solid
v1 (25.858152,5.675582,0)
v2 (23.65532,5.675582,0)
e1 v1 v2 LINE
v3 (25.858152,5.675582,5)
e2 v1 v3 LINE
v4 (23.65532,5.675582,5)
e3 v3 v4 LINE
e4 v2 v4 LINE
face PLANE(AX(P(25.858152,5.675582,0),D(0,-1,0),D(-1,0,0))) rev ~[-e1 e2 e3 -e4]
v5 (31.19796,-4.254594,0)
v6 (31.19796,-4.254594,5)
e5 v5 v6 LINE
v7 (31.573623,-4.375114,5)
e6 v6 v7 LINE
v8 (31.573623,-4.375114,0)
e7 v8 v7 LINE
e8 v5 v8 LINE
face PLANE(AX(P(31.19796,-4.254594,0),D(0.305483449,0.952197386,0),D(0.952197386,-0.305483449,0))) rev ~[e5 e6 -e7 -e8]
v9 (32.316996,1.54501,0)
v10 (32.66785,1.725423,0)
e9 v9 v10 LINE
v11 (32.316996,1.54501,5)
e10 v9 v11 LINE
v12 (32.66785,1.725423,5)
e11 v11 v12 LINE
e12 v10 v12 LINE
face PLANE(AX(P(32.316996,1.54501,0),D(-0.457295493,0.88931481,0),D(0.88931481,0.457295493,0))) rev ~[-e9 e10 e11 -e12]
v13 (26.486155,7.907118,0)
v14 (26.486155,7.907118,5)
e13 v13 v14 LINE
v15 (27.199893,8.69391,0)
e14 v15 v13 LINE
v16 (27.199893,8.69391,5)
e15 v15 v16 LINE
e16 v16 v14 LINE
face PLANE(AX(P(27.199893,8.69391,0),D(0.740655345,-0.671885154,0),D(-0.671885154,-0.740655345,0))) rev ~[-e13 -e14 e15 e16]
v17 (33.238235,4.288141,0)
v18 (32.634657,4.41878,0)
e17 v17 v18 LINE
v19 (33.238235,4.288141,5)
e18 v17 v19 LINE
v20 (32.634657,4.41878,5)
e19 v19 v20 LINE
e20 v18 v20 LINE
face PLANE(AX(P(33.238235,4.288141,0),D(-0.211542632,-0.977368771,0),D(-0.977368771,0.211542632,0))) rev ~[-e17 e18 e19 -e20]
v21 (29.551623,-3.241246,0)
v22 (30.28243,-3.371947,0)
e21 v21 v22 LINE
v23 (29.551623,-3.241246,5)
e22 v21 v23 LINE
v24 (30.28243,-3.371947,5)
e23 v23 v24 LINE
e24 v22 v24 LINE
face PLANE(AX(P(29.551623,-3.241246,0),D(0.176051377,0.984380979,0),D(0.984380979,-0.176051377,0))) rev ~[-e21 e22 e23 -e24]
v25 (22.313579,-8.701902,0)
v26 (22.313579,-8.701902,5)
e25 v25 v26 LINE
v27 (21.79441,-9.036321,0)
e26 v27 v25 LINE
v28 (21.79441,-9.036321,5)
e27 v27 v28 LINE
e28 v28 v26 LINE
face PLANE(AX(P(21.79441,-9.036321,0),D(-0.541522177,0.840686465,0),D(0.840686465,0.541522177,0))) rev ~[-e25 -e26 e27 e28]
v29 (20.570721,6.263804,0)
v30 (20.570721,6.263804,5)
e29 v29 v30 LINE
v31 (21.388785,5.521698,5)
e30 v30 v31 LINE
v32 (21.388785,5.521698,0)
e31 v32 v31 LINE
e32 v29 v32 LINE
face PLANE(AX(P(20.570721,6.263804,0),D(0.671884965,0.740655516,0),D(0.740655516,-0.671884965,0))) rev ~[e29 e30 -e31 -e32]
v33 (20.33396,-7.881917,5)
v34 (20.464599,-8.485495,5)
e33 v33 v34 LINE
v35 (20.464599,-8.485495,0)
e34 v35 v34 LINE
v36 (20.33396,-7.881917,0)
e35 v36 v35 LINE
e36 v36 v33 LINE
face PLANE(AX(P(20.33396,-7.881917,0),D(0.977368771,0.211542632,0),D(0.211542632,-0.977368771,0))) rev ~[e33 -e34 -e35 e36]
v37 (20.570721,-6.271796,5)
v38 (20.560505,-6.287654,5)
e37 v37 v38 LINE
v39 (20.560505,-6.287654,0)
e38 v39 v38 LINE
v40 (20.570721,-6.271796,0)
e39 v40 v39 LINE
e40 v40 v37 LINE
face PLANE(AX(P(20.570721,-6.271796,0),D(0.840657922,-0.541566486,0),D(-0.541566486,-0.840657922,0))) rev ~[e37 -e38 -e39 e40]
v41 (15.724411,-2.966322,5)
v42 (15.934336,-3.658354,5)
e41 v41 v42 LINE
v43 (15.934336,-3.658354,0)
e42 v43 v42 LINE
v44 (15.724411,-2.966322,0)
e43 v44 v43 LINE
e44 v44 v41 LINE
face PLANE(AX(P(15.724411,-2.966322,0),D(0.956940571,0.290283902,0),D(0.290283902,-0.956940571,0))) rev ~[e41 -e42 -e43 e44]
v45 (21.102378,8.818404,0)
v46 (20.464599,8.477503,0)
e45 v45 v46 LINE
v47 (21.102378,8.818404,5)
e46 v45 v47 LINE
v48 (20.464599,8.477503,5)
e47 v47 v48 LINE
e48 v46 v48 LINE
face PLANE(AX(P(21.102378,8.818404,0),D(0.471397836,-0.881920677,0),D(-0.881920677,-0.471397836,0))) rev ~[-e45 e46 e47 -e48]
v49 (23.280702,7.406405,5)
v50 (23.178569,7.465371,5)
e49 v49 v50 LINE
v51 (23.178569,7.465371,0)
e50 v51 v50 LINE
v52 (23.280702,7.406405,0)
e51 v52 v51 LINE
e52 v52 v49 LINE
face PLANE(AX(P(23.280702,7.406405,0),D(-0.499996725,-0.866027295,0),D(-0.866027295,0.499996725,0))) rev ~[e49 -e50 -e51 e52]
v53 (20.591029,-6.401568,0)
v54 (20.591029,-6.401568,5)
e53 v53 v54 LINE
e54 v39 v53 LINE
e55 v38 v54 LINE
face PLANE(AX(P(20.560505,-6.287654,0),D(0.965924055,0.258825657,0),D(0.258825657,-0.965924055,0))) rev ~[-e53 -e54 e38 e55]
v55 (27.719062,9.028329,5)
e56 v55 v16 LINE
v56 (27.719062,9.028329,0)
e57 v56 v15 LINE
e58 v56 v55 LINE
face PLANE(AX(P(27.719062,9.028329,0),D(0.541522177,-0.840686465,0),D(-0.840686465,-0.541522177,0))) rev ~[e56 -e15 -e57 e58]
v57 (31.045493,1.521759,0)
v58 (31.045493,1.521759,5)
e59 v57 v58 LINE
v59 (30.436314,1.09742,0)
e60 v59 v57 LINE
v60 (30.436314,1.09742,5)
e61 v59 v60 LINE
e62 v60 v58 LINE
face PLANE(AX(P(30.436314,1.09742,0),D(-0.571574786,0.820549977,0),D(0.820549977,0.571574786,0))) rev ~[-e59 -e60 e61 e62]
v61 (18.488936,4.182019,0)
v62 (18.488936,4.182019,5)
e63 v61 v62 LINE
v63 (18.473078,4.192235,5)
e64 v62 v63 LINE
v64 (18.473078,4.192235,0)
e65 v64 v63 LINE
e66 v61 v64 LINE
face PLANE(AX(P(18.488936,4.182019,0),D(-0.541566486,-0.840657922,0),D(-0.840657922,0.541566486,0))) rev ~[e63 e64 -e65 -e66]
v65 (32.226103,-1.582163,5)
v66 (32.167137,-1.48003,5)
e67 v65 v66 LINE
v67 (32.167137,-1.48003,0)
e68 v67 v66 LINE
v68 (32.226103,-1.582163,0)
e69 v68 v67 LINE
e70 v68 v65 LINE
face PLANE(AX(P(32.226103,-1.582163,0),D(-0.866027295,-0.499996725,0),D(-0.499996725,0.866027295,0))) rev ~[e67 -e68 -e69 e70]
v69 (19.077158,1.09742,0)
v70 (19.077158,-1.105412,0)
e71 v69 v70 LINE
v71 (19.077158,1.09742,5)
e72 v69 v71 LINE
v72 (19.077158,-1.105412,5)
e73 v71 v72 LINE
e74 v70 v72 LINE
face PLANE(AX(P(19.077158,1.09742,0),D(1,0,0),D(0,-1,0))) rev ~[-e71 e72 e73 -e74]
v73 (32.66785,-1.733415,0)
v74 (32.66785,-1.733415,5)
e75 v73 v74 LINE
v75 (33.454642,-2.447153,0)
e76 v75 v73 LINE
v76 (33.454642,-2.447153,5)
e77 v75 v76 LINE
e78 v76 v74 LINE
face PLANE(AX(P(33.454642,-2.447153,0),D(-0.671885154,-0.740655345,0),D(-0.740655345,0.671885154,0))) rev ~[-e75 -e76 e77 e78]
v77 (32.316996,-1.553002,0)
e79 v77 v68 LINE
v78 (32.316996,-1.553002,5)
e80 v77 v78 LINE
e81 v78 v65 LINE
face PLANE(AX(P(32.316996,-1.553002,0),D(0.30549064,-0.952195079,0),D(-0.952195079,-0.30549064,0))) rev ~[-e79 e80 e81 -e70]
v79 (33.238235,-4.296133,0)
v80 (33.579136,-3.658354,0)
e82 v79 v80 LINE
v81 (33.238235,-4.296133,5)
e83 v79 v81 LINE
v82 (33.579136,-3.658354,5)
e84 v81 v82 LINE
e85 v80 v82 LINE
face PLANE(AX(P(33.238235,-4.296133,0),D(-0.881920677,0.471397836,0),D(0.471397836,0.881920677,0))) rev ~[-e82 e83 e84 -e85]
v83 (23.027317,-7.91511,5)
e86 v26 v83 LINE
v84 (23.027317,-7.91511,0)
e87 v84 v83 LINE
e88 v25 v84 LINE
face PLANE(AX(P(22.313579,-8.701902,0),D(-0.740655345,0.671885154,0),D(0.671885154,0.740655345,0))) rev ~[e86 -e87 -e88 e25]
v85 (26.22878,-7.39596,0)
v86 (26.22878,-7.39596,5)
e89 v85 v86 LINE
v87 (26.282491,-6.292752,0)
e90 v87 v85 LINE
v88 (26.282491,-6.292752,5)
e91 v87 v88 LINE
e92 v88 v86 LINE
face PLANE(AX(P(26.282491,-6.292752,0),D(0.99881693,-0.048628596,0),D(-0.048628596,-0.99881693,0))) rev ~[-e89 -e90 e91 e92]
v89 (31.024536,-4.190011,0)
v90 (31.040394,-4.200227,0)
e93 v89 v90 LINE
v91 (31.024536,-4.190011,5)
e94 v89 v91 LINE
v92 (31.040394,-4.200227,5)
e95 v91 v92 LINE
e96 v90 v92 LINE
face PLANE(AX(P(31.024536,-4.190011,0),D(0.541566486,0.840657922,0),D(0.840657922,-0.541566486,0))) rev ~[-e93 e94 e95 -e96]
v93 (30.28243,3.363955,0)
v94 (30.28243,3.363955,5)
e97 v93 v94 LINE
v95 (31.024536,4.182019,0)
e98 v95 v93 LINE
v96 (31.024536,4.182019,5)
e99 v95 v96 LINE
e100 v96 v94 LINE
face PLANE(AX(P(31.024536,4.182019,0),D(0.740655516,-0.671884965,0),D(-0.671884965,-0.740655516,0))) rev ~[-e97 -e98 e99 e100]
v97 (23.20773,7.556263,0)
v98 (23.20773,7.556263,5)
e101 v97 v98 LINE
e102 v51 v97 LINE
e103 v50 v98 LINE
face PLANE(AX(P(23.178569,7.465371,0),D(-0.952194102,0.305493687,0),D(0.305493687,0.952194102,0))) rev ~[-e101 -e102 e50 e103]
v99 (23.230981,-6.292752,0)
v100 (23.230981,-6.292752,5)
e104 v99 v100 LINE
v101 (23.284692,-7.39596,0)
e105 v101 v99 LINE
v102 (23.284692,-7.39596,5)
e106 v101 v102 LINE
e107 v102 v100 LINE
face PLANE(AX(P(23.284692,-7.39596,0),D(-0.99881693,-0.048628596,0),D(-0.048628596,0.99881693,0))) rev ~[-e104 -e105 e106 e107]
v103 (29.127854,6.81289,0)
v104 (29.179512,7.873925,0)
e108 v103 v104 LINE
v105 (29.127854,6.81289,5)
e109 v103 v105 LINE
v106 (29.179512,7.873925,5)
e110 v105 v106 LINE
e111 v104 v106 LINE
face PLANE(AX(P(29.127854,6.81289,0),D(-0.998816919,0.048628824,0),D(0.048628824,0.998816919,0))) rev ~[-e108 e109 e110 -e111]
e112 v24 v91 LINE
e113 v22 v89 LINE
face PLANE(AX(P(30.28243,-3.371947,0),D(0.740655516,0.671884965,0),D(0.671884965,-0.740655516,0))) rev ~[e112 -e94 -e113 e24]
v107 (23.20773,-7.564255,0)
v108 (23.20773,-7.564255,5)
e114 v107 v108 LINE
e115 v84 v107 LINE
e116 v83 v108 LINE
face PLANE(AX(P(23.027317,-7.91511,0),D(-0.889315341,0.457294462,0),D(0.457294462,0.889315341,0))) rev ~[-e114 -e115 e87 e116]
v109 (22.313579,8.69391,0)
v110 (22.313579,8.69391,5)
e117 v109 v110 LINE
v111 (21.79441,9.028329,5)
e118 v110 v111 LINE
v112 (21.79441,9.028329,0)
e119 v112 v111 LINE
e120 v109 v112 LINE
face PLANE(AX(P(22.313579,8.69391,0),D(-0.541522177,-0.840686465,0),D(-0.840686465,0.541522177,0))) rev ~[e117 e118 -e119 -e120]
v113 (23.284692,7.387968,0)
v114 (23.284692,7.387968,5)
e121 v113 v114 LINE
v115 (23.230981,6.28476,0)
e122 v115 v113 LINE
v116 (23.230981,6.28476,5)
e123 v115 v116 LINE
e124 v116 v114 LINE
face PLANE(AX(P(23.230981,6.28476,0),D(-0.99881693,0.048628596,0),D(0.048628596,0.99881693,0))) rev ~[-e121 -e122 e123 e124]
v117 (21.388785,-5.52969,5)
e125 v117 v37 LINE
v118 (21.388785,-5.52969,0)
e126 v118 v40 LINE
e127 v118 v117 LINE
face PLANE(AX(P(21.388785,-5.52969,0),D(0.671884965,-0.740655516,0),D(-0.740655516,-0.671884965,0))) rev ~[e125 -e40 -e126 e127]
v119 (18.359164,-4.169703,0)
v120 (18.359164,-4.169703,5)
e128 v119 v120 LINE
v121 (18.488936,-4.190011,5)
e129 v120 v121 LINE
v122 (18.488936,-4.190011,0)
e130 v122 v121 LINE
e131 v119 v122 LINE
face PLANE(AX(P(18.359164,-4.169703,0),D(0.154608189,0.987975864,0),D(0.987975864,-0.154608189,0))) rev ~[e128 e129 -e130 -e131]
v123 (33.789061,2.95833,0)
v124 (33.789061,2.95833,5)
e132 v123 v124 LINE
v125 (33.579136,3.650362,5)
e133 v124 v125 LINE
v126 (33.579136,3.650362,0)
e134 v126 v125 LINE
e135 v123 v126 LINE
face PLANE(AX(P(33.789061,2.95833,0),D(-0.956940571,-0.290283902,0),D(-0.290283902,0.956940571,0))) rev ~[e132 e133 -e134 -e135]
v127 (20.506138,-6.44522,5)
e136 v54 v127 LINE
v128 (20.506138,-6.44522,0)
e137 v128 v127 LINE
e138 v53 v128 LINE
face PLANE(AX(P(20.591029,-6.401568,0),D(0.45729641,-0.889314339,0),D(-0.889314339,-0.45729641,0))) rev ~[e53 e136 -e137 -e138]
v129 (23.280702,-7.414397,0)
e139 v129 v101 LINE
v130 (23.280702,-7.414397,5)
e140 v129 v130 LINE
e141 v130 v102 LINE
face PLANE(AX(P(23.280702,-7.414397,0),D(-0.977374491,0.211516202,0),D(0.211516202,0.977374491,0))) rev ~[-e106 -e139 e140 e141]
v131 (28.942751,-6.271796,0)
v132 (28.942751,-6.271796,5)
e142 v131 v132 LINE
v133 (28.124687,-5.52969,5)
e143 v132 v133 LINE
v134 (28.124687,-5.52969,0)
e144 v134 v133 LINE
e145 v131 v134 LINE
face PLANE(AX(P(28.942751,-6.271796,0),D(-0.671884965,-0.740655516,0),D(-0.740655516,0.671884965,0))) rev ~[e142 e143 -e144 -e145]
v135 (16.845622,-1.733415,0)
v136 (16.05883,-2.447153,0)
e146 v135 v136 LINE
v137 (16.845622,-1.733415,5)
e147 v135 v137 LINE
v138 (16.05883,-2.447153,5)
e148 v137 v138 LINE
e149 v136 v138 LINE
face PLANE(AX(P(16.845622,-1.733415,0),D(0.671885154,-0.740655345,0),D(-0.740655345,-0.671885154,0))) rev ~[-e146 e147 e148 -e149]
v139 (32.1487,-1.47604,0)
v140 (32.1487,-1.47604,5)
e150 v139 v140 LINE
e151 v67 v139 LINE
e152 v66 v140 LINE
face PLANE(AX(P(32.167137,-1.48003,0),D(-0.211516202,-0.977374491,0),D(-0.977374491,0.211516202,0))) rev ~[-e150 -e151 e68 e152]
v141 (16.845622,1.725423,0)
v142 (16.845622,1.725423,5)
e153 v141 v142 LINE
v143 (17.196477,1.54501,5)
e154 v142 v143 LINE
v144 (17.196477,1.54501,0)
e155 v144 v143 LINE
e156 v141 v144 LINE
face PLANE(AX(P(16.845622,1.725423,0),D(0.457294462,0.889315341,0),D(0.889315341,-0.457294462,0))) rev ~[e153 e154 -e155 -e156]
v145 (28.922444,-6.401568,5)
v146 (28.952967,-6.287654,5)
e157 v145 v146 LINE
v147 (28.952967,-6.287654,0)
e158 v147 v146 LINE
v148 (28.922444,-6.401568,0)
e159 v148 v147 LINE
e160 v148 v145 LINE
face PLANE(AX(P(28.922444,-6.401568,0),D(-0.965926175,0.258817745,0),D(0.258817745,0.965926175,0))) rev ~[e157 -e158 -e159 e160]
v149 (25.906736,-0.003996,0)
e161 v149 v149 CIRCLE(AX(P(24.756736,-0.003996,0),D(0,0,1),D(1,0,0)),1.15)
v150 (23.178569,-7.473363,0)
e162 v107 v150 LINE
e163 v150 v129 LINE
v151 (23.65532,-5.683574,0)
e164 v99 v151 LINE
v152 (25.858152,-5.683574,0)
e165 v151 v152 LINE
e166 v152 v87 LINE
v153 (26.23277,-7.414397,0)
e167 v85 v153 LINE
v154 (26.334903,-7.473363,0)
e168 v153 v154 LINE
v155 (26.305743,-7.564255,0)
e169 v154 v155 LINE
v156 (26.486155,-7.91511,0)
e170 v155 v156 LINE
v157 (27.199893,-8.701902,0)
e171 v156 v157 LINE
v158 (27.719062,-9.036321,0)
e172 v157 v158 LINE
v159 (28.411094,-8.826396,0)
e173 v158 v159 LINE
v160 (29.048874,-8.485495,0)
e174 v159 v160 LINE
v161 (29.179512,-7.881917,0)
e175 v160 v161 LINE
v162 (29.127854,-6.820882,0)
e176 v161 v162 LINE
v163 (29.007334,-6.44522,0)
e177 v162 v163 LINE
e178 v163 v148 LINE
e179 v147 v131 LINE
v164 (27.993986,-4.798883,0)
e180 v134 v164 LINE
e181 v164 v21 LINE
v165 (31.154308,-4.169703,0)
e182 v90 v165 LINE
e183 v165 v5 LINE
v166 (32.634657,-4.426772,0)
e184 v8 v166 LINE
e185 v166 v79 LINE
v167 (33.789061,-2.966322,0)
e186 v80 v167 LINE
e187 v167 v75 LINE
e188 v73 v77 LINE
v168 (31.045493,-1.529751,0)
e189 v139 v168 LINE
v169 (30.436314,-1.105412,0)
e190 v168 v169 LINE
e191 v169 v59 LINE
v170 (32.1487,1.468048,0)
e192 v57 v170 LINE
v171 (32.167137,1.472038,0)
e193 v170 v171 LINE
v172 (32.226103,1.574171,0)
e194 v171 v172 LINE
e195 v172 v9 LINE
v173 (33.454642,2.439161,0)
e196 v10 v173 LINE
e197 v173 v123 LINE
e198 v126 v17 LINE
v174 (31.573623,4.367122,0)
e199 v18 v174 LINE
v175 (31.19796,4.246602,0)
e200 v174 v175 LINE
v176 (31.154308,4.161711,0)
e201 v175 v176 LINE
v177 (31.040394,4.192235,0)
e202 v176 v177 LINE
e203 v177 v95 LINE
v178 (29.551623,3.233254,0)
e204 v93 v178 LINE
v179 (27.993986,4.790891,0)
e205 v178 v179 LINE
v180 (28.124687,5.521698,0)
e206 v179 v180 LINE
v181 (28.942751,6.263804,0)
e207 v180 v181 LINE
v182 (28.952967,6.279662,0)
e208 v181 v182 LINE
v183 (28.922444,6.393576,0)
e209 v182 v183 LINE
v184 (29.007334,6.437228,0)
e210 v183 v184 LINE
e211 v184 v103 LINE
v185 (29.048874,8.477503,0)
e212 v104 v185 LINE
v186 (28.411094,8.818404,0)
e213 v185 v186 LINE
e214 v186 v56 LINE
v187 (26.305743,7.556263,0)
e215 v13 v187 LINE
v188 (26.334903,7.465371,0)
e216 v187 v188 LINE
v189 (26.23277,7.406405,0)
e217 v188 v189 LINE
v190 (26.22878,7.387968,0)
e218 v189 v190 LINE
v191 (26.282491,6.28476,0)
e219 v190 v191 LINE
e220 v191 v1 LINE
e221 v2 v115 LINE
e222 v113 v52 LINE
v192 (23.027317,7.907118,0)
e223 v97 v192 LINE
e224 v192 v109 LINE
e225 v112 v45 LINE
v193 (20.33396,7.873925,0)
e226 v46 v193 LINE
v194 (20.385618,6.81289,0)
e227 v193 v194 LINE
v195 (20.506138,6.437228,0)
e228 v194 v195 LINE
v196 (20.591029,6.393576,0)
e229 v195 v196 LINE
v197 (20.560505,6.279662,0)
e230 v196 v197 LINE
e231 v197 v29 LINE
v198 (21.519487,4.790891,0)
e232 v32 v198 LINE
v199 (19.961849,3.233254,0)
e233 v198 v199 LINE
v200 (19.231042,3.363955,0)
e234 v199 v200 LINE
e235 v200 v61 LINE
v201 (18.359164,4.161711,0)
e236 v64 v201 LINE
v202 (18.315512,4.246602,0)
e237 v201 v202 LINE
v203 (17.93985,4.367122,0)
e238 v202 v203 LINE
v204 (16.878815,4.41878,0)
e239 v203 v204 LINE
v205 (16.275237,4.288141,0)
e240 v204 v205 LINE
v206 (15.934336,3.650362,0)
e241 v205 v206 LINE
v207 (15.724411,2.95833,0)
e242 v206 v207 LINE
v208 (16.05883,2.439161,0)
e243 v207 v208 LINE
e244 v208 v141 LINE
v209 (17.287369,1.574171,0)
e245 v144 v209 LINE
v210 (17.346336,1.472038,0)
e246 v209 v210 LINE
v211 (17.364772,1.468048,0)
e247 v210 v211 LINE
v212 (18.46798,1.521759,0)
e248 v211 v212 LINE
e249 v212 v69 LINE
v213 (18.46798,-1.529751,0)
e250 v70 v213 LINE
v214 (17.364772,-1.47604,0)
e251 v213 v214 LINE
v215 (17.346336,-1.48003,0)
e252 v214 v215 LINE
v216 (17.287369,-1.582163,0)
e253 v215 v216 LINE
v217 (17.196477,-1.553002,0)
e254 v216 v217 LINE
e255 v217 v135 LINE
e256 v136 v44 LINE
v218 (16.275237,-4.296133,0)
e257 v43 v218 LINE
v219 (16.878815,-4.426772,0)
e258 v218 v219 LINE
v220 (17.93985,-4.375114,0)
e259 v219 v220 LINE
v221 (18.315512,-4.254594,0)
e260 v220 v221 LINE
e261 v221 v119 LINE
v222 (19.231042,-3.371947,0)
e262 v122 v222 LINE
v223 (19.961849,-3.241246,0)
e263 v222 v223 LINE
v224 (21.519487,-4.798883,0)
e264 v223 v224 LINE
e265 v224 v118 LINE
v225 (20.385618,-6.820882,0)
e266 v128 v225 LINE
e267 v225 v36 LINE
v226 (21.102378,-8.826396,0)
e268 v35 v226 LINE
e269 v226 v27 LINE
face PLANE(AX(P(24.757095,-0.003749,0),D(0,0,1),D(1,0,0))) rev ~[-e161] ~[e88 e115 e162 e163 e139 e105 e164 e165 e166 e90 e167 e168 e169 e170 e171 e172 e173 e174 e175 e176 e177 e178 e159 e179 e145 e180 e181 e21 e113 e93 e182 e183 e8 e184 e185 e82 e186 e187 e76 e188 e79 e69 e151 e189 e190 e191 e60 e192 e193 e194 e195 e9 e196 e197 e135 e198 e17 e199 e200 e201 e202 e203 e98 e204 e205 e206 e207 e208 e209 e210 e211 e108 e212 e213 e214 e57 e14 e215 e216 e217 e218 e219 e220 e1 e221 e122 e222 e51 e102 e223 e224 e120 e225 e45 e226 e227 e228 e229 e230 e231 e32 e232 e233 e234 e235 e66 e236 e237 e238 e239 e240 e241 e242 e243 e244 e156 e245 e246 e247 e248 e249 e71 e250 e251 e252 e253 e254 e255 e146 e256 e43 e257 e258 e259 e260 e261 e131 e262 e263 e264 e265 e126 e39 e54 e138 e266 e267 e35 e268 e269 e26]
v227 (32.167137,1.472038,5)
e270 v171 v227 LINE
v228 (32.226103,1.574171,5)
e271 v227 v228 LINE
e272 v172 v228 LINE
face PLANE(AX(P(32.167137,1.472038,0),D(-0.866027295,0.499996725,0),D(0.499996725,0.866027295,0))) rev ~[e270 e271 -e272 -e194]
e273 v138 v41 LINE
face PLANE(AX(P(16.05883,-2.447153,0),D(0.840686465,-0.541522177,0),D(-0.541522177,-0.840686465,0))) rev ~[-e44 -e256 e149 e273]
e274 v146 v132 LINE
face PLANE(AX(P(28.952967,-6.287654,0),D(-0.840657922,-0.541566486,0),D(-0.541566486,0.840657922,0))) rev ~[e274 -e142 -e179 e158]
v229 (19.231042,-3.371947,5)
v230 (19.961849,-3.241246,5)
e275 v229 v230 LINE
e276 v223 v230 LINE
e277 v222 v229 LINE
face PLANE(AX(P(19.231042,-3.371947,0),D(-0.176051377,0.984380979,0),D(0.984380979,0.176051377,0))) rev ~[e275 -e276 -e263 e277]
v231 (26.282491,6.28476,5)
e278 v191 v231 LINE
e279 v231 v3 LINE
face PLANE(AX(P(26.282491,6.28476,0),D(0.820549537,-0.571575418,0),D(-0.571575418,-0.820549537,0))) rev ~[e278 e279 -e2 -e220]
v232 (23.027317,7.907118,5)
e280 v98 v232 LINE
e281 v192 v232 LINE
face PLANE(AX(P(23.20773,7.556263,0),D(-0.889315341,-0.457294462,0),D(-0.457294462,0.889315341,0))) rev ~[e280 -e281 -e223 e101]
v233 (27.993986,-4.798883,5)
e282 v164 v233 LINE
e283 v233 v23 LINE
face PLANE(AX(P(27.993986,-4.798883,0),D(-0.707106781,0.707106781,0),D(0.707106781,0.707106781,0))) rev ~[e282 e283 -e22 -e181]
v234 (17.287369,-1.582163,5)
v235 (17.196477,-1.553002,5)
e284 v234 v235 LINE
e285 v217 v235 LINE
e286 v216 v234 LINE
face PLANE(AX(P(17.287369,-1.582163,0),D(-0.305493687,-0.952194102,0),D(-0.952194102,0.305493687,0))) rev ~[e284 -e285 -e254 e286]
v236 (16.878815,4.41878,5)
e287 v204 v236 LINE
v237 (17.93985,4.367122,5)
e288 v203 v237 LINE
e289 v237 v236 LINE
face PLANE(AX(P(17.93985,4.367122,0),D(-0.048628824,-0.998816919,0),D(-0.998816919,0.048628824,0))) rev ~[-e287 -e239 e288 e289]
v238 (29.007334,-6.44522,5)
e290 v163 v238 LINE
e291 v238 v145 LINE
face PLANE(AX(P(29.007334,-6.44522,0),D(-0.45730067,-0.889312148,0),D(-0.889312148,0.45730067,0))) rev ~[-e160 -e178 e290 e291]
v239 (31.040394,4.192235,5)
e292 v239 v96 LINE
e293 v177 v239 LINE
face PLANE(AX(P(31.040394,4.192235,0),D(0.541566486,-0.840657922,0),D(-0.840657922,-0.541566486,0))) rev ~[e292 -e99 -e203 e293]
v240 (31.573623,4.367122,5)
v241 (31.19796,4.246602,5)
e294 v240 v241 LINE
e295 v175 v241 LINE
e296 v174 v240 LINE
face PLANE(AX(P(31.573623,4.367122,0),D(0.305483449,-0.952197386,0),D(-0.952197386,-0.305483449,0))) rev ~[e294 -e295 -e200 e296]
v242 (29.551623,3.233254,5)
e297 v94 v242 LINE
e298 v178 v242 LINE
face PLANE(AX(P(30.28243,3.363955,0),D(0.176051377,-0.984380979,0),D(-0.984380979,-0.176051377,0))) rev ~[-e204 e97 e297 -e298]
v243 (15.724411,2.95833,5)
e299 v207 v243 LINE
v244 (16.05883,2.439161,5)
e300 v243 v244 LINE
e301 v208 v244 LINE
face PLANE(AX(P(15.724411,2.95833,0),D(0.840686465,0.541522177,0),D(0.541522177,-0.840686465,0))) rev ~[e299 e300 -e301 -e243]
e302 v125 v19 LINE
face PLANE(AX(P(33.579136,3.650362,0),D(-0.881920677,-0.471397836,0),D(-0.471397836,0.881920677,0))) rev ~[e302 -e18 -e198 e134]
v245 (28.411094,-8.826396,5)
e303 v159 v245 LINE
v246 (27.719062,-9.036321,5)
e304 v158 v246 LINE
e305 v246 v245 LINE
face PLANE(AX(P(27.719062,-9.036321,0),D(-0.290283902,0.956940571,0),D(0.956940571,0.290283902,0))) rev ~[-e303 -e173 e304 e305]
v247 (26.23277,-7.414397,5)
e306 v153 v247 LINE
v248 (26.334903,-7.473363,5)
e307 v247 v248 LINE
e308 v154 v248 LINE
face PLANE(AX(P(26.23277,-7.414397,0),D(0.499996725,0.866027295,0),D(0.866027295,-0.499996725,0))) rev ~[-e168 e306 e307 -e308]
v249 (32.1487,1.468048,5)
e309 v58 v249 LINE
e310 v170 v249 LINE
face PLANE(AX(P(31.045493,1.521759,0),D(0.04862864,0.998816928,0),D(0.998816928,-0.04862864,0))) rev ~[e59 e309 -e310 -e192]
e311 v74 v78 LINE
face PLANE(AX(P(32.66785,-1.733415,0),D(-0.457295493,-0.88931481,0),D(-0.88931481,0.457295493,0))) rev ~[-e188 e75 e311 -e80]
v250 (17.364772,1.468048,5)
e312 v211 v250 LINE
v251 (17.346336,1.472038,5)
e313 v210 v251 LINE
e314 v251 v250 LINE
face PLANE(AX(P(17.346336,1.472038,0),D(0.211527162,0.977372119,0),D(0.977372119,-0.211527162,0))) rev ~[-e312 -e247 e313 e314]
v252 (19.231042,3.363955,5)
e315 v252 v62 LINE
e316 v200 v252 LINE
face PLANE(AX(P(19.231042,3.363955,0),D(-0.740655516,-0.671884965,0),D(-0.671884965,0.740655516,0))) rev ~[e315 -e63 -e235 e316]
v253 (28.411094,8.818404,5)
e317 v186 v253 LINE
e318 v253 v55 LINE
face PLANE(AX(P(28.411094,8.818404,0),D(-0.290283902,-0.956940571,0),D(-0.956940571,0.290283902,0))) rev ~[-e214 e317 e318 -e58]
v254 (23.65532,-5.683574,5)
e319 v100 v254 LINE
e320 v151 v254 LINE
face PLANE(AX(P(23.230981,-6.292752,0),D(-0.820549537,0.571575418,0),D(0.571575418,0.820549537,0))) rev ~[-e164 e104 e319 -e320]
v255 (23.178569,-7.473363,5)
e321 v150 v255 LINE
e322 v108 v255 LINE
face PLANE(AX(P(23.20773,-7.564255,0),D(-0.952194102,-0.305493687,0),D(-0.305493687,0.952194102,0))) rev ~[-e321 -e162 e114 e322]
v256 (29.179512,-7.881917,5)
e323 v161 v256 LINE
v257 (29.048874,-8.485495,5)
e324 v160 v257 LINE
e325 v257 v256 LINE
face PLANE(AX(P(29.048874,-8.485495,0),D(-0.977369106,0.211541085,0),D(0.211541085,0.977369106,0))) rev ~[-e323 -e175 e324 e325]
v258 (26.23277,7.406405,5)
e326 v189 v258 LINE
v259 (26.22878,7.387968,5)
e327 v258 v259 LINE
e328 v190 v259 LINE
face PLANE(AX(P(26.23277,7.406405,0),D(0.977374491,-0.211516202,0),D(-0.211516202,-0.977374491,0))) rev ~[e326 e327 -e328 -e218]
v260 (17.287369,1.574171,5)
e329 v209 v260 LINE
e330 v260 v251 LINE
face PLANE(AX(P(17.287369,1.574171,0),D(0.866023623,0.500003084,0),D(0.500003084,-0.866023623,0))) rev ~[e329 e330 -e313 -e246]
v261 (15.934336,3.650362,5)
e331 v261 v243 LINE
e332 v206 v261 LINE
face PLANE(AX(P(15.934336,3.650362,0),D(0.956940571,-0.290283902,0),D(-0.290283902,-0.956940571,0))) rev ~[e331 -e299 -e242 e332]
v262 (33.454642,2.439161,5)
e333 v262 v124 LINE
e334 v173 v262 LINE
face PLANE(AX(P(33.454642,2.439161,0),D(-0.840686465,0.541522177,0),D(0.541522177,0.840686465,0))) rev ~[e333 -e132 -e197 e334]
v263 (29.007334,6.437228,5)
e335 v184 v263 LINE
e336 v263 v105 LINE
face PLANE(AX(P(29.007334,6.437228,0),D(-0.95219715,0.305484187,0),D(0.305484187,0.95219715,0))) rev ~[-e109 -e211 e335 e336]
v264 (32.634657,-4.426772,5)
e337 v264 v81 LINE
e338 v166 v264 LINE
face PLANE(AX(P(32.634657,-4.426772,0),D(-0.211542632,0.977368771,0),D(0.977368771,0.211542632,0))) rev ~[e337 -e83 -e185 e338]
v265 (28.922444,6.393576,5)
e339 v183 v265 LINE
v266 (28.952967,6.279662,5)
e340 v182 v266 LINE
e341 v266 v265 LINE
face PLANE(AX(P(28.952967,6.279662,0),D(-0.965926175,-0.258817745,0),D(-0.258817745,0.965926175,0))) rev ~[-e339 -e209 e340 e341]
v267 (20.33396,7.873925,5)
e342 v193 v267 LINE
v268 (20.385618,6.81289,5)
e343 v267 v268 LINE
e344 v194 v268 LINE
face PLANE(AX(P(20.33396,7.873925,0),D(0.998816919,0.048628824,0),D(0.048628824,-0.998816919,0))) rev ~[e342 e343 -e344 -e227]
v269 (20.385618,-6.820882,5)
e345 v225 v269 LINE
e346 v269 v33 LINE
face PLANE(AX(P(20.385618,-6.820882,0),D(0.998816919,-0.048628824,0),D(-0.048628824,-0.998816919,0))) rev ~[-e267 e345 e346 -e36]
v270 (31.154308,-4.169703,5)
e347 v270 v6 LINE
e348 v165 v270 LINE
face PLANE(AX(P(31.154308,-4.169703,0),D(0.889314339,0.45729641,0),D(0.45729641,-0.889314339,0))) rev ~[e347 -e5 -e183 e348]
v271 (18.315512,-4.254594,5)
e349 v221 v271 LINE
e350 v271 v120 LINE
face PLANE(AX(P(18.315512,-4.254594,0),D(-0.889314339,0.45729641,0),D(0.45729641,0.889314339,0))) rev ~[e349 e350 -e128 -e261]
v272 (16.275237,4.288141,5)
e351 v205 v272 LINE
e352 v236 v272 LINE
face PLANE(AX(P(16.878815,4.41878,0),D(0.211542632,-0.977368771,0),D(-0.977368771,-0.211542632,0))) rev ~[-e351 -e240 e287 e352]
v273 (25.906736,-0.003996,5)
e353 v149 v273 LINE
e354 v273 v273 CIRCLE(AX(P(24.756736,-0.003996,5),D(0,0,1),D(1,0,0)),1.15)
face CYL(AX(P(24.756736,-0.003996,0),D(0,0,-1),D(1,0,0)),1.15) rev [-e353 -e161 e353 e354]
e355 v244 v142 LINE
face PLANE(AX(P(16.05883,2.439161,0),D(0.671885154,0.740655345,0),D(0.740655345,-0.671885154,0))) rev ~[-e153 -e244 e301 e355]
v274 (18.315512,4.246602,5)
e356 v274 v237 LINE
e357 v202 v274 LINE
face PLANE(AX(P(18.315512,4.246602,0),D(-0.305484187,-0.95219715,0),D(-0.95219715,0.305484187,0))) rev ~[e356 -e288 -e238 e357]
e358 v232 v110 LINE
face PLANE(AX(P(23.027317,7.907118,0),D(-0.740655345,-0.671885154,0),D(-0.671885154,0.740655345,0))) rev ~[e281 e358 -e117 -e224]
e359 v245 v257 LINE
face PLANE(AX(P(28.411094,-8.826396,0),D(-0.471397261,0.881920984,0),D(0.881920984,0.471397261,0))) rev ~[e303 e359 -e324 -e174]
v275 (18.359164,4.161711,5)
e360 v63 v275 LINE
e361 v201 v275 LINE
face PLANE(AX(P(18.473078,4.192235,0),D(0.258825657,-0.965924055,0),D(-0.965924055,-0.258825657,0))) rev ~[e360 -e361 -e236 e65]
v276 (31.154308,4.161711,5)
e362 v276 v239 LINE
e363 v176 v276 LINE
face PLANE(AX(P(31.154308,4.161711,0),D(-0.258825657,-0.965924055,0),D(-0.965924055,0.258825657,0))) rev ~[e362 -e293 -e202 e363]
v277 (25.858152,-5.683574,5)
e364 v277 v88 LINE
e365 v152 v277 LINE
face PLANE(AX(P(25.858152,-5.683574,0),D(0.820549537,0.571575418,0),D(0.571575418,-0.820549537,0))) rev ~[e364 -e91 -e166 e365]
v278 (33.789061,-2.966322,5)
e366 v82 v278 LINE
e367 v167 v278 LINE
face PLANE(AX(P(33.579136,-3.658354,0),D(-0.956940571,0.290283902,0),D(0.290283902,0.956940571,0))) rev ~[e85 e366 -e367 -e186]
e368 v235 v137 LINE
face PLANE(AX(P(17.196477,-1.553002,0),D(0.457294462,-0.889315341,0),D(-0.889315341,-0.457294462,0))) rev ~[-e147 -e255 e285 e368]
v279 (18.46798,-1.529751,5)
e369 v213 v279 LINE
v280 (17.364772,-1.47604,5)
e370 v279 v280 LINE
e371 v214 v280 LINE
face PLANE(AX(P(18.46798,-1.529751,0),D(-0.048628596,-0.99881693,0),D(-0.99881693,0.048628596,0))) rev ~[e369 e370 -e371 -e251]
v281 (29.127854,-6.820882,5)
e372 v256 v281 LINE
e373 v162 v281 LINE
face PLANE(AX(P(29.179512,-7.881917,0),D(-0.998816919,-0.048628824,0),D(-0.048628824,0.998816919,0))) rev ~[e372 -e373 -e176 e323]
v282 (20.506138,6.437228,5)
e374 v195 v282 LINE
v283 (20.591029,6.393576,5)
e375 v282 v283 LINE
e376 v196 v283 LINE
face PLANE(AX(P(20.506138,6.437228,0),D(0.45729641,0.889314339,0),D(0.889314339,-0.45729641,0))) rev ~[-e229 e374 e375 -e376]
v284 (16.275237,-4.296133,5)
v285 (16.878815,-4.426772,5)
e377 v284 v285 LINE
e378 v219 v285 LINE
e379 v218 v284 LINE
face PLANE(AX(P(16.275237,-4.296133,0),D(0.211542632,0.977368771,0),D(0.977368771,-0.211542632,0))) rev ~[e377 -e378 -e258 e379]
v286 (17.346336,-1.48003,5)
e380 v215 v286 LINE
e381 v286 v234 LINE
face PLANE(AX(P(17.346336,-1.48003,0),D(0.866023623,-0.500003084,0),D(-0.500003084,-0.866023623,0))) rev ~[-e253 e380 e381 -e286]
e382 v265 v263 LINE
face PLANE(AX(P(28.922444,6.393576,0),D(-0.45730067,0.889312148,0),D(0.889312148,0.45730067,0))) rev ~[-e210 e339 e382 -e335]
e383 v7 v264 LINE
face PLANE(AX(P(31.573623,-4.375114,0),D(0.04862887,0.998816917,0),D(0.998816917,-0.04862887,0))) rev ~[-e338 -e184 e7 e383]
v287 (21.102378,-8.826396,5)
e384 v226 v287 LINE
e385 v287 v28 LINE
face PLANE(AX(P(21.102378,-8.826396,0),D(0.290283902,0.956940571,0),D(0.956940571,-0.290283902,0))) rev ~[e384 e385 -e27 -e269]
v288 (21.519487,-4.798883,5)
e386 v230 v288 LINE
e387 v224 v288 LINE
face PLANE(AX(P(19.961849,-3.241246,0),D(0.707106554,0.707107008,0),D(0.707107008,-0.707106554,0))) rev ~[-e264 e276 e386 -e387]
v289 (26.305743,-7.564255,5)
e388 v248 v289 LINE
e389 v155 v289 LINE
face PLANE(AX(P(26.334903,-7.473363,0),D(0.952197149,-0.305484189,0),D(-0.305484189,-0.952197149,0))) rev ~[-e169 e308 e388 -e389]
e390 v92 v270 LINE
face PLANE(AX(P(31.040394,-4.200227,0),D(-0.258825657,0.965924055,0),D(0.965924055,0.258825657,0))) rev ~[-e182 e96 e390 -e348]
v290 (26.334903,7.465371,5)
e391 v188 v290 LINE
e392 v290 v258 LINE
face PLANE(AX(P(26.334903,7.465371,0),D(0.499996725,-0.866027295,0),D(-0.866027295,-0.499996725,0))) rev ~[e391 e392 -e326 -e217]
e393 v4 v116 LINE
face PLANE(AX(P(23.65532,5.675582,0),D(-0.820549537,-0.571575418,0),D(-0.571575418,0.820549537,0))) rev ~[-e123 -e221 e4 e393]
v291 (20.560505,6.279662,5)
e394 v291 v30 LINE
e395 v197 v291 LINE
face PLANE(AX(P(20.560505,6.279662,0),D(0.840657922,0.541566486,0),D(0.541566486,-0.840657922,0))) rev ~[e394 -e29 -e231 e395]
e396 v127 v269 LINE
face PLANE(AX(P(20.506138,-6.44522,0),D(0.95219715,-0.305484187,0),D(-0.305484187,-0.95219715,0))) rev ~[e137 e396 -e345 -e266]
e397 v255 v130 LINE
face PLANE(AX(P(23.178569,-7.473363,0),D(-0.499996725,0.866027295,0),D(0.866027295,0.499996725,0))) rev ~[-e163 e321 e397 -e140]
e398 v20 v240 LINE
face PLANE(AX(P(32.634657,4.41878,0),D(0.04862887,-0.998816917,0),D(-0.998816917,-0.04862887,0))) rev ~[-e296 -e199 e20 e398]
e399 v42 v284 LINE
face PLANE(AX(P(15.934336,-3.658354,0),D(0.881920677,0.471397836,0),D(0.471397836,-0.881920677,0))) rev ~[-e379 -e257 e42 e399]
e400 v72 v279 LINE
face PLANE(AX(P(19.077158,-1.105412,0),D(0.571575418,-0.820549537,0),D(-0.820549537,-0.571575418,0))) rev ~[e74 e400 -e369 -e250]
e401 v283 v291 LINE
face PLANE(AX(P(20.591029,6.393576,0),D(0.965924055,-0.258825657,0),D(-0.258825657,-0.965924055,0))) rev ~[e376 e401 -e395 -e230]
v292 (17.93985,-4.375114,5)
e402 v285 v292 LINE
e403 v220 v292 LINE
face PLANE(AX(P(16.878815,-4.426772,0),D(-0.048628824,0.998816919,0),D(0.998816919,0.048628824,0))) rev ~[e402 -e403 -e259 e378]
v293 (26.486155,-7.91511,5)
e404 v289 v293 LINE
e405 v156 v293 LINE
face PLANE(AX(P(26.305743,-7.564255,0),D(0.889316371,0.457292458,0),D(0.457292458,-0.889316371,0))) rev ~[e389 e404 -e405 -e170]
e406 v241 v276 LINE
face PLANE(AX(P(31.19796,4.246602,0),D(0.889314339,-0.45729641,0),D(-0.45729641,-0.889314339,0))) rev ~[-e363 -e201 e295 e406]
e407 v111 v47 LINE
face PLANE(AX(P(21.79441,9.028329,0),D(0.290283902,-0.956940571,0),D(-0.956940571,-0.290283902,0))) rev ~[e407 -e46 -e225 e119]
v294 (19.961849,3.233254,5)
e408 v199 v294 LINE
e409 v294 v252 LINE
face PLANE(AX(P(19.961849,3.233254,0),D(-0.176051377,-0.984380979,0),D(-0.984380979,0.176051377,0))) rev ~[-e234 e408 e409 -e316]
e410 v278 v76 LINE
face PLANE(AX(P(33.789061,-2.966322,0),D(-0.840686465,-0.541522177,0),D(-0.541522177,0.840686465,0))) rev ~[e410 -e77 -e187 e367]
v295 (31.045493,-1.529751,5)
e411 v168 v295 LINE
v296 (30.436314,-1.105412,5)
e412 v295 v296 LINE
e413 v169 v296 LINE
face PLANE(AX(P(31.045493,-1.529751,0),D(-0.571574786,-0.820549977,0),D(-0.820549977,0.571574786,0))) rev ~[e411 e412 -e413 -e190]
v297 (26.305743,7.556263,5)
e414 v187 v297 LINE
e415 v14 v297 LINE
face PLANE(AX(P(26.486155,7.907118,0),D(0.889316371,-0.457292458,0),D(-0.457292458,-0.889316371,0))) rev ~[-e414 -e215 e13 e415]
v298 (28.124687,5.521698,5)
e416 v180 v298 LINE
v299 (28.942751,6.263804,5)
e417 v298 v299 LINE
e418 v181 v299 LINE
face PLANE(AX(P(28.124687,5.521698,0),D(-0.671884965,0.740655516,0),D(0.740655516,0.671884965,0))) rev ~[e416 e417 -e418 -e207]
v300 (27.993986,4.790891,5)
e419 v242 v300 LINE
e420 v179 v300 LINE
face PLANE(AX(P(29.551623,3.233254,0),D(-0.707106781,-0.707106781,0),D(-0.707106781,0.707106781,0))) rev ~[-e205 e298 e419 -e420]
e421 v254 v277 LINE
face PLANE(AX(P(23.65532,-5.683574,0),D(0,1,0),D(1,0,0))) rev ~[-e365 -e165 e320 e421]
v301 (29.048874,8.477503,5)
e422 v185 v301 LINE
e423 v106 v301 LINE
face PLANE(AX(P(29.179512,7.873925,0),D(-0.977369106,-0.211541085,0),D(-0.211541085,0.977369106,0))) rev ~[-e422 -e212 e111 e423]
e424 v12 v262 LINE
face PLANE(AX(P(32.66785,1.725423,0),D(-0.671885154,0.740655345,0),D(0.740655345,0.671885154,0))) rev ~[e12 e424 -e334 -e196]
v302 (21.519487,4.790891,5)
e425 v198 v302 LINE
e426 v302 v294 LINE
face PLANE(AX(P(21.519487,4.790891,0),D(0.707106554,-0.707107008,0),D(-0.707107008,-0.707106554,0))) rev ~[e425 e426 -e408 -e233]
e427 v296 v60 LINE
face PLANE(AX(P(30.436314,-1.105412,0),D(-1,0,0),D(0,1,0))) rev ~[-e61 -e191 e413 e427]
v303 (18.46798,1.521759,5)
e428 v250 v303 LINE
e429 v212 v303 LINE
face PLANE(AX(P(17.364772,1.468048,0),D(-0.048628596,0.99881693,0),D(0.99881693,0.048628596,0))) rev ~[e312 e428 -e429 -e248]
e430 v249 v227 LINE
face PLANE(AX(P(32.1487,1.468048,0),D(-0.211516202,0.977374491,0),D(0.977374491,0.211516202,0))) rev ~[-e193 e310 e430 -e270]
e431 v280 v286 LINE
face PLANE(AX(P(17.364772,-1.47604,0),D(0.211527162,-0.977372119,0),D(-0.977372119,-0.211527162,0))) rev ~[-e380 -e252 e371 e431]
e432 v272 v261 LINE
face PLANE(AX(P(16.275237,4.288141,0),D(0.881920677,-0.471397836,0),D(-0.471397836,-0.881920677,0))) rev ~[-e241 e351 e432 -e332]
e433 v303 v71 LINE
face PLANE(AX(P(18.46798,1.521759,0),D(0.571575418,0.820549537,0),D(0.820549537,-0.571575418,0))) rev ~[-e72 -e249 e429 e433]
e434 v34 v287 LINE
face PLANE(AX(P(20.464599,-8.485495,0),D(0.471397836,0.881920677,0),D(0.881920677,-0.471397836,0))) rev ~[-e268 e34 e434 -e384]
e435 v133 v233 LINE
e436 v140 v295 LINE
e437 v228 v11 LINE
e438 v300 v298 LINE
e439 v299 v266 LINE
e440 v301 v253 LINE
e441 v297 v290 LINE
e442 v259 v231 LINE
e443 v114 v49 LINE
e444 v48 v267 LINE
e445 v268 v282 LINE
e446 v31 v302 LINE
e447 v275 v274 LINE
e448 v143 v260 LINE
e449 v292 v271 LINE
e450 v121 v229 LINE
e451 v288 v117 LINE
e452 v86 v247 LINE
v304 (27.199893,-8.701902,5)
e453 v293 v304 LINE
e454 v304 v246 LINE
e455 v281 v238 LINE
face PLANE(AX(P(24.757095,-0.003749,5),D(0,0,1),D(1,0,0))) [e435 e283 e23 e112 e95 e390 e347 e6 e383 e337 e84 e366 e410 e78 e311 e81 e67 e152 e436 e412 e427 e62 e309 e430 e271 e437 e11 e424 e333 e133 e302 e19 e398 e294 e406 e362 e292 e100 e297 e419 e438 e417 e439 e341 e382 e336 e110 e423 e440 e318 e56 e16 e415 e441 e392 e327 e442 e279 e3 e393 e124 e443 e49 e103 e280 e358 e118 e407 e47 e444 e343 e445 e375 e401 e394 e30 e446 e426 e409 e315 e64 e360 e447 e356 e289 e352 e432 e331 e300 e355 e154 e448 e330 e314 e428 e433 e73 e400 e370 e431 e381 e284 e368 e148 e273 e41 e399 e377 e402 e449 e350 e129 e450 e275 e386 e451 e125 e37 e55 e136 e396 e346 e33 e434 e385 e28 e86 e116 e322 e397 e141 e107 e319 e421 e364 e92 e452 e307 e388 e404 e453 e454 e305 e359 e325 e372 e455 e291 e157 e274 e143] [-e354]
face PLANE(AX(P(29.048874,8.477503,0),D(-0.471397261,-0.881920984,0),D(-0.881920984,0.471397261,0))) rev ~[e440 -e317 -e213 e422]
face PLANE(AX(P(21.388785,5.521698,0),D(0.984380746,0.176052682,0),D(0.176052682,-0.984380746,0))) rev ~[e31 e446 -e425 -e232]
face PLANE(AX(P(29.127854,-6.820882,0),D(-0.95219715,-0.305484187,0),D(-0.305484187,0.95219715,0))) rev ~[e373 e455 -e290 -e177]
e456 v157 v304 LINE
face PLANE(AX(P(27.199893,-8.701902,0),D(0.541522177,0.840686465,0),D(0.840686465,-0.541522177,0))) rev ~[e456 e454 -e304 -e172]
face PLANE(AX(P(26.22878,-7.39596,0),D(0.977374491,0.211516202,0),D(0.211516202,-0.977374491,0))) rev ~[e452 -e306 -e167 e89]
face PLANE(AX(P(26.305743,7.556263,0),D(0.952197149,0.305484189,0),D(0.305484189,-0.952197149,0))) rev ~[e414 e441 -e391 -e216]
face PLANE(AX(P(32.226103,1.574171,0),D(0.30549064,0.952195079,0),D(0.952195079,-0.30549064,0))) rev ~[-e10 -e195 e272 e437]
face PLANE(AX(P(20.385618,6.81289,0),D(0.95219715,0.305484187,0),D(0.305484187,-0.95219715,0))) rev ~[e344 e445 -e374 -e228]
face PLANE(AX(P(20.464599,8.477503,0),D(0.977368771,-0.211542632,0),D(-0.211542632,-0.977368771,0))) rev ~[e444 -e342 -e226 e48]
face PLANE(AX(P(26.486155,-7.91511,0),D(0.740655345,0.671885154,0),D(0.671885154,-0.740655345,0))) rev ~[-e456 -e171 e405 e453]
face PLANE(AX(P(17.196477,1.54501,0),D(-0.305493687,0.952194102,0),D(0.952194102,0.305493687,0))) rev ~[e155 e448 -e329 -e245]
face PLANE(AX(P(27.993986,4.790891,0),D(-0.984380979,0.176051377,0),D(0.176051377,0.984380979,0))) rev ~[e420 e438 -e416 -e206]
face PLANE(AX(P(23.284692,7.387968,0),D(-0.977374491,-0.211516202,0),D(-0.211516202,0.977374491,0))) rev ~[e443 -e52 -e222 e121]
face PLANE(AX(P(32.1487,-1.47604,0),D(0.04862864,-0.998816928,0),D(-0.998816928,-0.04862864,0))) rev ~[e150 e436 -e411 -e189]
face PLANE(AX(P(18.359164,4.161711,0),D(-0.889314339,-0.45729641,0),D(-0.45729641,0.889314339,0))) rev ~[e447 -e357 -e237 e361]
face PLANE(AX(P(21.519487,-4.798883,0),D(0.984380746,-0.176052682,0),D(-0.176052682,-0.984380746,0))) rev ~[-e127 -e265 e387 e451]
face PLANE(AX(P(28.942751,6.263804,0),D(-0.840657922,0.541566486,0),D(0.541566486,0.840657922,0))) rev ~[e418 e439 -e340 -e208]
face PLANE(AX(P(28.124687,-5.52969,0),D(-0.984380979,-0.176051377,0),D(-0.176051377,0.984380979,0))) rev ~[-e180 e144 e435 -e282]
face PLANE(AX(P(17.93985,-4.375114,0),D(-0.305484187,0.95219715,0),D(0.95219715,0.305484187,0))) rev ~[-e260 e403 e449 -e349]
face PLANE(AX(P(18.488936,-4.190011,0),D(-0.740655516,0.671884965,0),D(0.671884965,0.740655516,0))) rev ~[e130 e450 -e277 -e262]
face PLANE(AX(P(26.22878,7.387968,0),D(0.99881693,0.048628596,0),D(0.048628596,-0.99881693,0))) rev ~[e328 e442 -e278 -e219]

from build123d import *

# Parameters (mm, degrees)
F0_R     = 1.15
F1_DEPTH = 5


with BuildPart() as f1:
    # F0 (on Top) → F1 (new body)
    with BuildSketch(Plane.XY):
        Polygon((16.878815, 4.41878), (16.275237, 4.288141), (15.934336, 3.650362), (15.724411, 2.95833), (16.05883, 2.439161), (16.845622, 1.725423), (17.196477, 1.54501), (17.287369, 1.574171), (17.346336, 1.472038), (17.364772, 1.468048), (18.46798, 1.521759), (19.077158, 1.09742), (19.077158, -1.105412), (18.46798, -1.529751), (17.364772, -1.47604), (17.346336, -1.48003), (17.287369, -1.582163), (17.196477, -1.553002), (16.845622, -1.733415), (16.05883, -2.447153), (15.724411, -2.966322), (15.934336, -3.658354), (16.275237, -4.296133), (16.878815, -4.426772), (17.93985, -4.375114), (18.315512, -4.254594), (18.359164, -4.169703), (18.488936, -4.190011), (19.231042, -3.371947), (19.961849, -3.241246), (21.519487, -4.798883), (21.388785, -5.52969), (20.570721, -6.271796), (20.560505, -6.287654), (20.591029, -6.401568), (20.506138, -6.44522), (20.385618, -6.820882), (20.33396, -7.881917), (20.464599, -8.485495), (21.102378, -8.826396), (21.79441, -9.036321), (22.313579, -8.701902), (23.027317, -7.91511), (23.20773, -7.564255), (23.178569, -7.473363), (23.280702, -7.414397), (23.284692, -7.39596), (23.230981, -6.292752), (23.65532, -5.683574), (25.858152, -5.683574), (26.282491, -6.292752), (26.22878, -7.39596), (26.23277, -7.414397), (26.334903, -7.473363), (26.305743, -7.564255), (26.486155, -7.91511), (27.199893, -8.701902), (27.719062, -9.036321), (28.411094, -8.826396), (29.048874, -8.485495), (29.179512, -7.881917), (29.127854, -6.820882), (29.007334, -6.44522), (28.922444, -6.401568), (28.952967, -6.287654), (28.942751, -6.271796), (28.124687, -5.52969), (27.993986, -4.798883), (29.551623, -3.241246), (30.28243, -3.371947), (31.024536, -4.190011), (31.040394, -4.200227), (31.154308, -4.169703), (31.19796, -4.254594), (31.573623, -4.375114), (32.634657, -4.426772), (33.238235, -4.296133), (33.579136, -3.658354), (33.789061, -2.966322), (33.454642, -2.447153), (32.66785, -1.733415), (32.316996, -1.553002), (32.226103, -1.582163), (32.167137, -1.48003), (32.1487, -1.47604), (31.045493, -1.529751), (30.436314, -1.105412), (30.436314, 1.09742), (31.045493, 1.521759), (32.1487, 1.468048), (32.167137, 1.472038), (32.226103, 1.574171), (32.316996, 1.54501), (32.66785, 1.725423), (33.454642, 2.439161), (33.789061, 2.95833), (33.579136, 3.650362), (33.238235, 4.288141), (32.634657, 4.41878), (31.573623, 4.367122), (31.19796, 4.246602), (31.154308, 4.161711), (31.040394, 4.192235), (31.024536, 4.182019), (30.28243, 3.363955), (29.551623, 3.233254), (27.993986, 4.790891), (28.124687, 5.521698), (28.942751, 6.263804), (28.952967, 6.279662), (28.922444, 6.393576), (29.007334, 6.437228), (29.127854, 6.81289), (29.179512, 7.873925), (29.048874, 8.477503), (28.411094, 8.818404), (27.719062, 9.028329), (27.199893, 8.69391), (26.486155, 7.907118), (26.305743, 7.556263), (26.334903, 7.465371), (26.23277, 7.406405), (26.22878, 7.387968), (26.282491, 6.28476), (25.858152, 5.675582), (23.65532, 5.675582), (23.230981, 6.28476), (23.284692, 7.387968), (23.280702, 7.406405), (23.178569, 7.465371), (23.20773, 7.556263), (23.027317, 7.907118), (22.313579, 8.69391), (21.79441, 9.028329), (21.102378, 8.818404), (20.464599, 8.477503), (20.33396, 7.873925), (20.385618, 6.81289), (20.506138, 6.437228), (20.591029, 6.393576), (20.560505, 6.279662), (20.570721, 6.263804), (21.388785, 5.521698), (21.519487, 4.790891), (19.961849, 3.233254), (19.231042, 3.363955), (18.488936, 4.182019), (18.473078, 4.192235), (18.359164, 4.161711), (18.315512, 4.246602), (17.93985, 4.367122), align=None)
        with Locations((24.756736, -0.003996)):
            Circle(F0_R, mode=Mode.SUBTRACT)
    extrude(amount=F1_DEPTH)


solid = f1.part
